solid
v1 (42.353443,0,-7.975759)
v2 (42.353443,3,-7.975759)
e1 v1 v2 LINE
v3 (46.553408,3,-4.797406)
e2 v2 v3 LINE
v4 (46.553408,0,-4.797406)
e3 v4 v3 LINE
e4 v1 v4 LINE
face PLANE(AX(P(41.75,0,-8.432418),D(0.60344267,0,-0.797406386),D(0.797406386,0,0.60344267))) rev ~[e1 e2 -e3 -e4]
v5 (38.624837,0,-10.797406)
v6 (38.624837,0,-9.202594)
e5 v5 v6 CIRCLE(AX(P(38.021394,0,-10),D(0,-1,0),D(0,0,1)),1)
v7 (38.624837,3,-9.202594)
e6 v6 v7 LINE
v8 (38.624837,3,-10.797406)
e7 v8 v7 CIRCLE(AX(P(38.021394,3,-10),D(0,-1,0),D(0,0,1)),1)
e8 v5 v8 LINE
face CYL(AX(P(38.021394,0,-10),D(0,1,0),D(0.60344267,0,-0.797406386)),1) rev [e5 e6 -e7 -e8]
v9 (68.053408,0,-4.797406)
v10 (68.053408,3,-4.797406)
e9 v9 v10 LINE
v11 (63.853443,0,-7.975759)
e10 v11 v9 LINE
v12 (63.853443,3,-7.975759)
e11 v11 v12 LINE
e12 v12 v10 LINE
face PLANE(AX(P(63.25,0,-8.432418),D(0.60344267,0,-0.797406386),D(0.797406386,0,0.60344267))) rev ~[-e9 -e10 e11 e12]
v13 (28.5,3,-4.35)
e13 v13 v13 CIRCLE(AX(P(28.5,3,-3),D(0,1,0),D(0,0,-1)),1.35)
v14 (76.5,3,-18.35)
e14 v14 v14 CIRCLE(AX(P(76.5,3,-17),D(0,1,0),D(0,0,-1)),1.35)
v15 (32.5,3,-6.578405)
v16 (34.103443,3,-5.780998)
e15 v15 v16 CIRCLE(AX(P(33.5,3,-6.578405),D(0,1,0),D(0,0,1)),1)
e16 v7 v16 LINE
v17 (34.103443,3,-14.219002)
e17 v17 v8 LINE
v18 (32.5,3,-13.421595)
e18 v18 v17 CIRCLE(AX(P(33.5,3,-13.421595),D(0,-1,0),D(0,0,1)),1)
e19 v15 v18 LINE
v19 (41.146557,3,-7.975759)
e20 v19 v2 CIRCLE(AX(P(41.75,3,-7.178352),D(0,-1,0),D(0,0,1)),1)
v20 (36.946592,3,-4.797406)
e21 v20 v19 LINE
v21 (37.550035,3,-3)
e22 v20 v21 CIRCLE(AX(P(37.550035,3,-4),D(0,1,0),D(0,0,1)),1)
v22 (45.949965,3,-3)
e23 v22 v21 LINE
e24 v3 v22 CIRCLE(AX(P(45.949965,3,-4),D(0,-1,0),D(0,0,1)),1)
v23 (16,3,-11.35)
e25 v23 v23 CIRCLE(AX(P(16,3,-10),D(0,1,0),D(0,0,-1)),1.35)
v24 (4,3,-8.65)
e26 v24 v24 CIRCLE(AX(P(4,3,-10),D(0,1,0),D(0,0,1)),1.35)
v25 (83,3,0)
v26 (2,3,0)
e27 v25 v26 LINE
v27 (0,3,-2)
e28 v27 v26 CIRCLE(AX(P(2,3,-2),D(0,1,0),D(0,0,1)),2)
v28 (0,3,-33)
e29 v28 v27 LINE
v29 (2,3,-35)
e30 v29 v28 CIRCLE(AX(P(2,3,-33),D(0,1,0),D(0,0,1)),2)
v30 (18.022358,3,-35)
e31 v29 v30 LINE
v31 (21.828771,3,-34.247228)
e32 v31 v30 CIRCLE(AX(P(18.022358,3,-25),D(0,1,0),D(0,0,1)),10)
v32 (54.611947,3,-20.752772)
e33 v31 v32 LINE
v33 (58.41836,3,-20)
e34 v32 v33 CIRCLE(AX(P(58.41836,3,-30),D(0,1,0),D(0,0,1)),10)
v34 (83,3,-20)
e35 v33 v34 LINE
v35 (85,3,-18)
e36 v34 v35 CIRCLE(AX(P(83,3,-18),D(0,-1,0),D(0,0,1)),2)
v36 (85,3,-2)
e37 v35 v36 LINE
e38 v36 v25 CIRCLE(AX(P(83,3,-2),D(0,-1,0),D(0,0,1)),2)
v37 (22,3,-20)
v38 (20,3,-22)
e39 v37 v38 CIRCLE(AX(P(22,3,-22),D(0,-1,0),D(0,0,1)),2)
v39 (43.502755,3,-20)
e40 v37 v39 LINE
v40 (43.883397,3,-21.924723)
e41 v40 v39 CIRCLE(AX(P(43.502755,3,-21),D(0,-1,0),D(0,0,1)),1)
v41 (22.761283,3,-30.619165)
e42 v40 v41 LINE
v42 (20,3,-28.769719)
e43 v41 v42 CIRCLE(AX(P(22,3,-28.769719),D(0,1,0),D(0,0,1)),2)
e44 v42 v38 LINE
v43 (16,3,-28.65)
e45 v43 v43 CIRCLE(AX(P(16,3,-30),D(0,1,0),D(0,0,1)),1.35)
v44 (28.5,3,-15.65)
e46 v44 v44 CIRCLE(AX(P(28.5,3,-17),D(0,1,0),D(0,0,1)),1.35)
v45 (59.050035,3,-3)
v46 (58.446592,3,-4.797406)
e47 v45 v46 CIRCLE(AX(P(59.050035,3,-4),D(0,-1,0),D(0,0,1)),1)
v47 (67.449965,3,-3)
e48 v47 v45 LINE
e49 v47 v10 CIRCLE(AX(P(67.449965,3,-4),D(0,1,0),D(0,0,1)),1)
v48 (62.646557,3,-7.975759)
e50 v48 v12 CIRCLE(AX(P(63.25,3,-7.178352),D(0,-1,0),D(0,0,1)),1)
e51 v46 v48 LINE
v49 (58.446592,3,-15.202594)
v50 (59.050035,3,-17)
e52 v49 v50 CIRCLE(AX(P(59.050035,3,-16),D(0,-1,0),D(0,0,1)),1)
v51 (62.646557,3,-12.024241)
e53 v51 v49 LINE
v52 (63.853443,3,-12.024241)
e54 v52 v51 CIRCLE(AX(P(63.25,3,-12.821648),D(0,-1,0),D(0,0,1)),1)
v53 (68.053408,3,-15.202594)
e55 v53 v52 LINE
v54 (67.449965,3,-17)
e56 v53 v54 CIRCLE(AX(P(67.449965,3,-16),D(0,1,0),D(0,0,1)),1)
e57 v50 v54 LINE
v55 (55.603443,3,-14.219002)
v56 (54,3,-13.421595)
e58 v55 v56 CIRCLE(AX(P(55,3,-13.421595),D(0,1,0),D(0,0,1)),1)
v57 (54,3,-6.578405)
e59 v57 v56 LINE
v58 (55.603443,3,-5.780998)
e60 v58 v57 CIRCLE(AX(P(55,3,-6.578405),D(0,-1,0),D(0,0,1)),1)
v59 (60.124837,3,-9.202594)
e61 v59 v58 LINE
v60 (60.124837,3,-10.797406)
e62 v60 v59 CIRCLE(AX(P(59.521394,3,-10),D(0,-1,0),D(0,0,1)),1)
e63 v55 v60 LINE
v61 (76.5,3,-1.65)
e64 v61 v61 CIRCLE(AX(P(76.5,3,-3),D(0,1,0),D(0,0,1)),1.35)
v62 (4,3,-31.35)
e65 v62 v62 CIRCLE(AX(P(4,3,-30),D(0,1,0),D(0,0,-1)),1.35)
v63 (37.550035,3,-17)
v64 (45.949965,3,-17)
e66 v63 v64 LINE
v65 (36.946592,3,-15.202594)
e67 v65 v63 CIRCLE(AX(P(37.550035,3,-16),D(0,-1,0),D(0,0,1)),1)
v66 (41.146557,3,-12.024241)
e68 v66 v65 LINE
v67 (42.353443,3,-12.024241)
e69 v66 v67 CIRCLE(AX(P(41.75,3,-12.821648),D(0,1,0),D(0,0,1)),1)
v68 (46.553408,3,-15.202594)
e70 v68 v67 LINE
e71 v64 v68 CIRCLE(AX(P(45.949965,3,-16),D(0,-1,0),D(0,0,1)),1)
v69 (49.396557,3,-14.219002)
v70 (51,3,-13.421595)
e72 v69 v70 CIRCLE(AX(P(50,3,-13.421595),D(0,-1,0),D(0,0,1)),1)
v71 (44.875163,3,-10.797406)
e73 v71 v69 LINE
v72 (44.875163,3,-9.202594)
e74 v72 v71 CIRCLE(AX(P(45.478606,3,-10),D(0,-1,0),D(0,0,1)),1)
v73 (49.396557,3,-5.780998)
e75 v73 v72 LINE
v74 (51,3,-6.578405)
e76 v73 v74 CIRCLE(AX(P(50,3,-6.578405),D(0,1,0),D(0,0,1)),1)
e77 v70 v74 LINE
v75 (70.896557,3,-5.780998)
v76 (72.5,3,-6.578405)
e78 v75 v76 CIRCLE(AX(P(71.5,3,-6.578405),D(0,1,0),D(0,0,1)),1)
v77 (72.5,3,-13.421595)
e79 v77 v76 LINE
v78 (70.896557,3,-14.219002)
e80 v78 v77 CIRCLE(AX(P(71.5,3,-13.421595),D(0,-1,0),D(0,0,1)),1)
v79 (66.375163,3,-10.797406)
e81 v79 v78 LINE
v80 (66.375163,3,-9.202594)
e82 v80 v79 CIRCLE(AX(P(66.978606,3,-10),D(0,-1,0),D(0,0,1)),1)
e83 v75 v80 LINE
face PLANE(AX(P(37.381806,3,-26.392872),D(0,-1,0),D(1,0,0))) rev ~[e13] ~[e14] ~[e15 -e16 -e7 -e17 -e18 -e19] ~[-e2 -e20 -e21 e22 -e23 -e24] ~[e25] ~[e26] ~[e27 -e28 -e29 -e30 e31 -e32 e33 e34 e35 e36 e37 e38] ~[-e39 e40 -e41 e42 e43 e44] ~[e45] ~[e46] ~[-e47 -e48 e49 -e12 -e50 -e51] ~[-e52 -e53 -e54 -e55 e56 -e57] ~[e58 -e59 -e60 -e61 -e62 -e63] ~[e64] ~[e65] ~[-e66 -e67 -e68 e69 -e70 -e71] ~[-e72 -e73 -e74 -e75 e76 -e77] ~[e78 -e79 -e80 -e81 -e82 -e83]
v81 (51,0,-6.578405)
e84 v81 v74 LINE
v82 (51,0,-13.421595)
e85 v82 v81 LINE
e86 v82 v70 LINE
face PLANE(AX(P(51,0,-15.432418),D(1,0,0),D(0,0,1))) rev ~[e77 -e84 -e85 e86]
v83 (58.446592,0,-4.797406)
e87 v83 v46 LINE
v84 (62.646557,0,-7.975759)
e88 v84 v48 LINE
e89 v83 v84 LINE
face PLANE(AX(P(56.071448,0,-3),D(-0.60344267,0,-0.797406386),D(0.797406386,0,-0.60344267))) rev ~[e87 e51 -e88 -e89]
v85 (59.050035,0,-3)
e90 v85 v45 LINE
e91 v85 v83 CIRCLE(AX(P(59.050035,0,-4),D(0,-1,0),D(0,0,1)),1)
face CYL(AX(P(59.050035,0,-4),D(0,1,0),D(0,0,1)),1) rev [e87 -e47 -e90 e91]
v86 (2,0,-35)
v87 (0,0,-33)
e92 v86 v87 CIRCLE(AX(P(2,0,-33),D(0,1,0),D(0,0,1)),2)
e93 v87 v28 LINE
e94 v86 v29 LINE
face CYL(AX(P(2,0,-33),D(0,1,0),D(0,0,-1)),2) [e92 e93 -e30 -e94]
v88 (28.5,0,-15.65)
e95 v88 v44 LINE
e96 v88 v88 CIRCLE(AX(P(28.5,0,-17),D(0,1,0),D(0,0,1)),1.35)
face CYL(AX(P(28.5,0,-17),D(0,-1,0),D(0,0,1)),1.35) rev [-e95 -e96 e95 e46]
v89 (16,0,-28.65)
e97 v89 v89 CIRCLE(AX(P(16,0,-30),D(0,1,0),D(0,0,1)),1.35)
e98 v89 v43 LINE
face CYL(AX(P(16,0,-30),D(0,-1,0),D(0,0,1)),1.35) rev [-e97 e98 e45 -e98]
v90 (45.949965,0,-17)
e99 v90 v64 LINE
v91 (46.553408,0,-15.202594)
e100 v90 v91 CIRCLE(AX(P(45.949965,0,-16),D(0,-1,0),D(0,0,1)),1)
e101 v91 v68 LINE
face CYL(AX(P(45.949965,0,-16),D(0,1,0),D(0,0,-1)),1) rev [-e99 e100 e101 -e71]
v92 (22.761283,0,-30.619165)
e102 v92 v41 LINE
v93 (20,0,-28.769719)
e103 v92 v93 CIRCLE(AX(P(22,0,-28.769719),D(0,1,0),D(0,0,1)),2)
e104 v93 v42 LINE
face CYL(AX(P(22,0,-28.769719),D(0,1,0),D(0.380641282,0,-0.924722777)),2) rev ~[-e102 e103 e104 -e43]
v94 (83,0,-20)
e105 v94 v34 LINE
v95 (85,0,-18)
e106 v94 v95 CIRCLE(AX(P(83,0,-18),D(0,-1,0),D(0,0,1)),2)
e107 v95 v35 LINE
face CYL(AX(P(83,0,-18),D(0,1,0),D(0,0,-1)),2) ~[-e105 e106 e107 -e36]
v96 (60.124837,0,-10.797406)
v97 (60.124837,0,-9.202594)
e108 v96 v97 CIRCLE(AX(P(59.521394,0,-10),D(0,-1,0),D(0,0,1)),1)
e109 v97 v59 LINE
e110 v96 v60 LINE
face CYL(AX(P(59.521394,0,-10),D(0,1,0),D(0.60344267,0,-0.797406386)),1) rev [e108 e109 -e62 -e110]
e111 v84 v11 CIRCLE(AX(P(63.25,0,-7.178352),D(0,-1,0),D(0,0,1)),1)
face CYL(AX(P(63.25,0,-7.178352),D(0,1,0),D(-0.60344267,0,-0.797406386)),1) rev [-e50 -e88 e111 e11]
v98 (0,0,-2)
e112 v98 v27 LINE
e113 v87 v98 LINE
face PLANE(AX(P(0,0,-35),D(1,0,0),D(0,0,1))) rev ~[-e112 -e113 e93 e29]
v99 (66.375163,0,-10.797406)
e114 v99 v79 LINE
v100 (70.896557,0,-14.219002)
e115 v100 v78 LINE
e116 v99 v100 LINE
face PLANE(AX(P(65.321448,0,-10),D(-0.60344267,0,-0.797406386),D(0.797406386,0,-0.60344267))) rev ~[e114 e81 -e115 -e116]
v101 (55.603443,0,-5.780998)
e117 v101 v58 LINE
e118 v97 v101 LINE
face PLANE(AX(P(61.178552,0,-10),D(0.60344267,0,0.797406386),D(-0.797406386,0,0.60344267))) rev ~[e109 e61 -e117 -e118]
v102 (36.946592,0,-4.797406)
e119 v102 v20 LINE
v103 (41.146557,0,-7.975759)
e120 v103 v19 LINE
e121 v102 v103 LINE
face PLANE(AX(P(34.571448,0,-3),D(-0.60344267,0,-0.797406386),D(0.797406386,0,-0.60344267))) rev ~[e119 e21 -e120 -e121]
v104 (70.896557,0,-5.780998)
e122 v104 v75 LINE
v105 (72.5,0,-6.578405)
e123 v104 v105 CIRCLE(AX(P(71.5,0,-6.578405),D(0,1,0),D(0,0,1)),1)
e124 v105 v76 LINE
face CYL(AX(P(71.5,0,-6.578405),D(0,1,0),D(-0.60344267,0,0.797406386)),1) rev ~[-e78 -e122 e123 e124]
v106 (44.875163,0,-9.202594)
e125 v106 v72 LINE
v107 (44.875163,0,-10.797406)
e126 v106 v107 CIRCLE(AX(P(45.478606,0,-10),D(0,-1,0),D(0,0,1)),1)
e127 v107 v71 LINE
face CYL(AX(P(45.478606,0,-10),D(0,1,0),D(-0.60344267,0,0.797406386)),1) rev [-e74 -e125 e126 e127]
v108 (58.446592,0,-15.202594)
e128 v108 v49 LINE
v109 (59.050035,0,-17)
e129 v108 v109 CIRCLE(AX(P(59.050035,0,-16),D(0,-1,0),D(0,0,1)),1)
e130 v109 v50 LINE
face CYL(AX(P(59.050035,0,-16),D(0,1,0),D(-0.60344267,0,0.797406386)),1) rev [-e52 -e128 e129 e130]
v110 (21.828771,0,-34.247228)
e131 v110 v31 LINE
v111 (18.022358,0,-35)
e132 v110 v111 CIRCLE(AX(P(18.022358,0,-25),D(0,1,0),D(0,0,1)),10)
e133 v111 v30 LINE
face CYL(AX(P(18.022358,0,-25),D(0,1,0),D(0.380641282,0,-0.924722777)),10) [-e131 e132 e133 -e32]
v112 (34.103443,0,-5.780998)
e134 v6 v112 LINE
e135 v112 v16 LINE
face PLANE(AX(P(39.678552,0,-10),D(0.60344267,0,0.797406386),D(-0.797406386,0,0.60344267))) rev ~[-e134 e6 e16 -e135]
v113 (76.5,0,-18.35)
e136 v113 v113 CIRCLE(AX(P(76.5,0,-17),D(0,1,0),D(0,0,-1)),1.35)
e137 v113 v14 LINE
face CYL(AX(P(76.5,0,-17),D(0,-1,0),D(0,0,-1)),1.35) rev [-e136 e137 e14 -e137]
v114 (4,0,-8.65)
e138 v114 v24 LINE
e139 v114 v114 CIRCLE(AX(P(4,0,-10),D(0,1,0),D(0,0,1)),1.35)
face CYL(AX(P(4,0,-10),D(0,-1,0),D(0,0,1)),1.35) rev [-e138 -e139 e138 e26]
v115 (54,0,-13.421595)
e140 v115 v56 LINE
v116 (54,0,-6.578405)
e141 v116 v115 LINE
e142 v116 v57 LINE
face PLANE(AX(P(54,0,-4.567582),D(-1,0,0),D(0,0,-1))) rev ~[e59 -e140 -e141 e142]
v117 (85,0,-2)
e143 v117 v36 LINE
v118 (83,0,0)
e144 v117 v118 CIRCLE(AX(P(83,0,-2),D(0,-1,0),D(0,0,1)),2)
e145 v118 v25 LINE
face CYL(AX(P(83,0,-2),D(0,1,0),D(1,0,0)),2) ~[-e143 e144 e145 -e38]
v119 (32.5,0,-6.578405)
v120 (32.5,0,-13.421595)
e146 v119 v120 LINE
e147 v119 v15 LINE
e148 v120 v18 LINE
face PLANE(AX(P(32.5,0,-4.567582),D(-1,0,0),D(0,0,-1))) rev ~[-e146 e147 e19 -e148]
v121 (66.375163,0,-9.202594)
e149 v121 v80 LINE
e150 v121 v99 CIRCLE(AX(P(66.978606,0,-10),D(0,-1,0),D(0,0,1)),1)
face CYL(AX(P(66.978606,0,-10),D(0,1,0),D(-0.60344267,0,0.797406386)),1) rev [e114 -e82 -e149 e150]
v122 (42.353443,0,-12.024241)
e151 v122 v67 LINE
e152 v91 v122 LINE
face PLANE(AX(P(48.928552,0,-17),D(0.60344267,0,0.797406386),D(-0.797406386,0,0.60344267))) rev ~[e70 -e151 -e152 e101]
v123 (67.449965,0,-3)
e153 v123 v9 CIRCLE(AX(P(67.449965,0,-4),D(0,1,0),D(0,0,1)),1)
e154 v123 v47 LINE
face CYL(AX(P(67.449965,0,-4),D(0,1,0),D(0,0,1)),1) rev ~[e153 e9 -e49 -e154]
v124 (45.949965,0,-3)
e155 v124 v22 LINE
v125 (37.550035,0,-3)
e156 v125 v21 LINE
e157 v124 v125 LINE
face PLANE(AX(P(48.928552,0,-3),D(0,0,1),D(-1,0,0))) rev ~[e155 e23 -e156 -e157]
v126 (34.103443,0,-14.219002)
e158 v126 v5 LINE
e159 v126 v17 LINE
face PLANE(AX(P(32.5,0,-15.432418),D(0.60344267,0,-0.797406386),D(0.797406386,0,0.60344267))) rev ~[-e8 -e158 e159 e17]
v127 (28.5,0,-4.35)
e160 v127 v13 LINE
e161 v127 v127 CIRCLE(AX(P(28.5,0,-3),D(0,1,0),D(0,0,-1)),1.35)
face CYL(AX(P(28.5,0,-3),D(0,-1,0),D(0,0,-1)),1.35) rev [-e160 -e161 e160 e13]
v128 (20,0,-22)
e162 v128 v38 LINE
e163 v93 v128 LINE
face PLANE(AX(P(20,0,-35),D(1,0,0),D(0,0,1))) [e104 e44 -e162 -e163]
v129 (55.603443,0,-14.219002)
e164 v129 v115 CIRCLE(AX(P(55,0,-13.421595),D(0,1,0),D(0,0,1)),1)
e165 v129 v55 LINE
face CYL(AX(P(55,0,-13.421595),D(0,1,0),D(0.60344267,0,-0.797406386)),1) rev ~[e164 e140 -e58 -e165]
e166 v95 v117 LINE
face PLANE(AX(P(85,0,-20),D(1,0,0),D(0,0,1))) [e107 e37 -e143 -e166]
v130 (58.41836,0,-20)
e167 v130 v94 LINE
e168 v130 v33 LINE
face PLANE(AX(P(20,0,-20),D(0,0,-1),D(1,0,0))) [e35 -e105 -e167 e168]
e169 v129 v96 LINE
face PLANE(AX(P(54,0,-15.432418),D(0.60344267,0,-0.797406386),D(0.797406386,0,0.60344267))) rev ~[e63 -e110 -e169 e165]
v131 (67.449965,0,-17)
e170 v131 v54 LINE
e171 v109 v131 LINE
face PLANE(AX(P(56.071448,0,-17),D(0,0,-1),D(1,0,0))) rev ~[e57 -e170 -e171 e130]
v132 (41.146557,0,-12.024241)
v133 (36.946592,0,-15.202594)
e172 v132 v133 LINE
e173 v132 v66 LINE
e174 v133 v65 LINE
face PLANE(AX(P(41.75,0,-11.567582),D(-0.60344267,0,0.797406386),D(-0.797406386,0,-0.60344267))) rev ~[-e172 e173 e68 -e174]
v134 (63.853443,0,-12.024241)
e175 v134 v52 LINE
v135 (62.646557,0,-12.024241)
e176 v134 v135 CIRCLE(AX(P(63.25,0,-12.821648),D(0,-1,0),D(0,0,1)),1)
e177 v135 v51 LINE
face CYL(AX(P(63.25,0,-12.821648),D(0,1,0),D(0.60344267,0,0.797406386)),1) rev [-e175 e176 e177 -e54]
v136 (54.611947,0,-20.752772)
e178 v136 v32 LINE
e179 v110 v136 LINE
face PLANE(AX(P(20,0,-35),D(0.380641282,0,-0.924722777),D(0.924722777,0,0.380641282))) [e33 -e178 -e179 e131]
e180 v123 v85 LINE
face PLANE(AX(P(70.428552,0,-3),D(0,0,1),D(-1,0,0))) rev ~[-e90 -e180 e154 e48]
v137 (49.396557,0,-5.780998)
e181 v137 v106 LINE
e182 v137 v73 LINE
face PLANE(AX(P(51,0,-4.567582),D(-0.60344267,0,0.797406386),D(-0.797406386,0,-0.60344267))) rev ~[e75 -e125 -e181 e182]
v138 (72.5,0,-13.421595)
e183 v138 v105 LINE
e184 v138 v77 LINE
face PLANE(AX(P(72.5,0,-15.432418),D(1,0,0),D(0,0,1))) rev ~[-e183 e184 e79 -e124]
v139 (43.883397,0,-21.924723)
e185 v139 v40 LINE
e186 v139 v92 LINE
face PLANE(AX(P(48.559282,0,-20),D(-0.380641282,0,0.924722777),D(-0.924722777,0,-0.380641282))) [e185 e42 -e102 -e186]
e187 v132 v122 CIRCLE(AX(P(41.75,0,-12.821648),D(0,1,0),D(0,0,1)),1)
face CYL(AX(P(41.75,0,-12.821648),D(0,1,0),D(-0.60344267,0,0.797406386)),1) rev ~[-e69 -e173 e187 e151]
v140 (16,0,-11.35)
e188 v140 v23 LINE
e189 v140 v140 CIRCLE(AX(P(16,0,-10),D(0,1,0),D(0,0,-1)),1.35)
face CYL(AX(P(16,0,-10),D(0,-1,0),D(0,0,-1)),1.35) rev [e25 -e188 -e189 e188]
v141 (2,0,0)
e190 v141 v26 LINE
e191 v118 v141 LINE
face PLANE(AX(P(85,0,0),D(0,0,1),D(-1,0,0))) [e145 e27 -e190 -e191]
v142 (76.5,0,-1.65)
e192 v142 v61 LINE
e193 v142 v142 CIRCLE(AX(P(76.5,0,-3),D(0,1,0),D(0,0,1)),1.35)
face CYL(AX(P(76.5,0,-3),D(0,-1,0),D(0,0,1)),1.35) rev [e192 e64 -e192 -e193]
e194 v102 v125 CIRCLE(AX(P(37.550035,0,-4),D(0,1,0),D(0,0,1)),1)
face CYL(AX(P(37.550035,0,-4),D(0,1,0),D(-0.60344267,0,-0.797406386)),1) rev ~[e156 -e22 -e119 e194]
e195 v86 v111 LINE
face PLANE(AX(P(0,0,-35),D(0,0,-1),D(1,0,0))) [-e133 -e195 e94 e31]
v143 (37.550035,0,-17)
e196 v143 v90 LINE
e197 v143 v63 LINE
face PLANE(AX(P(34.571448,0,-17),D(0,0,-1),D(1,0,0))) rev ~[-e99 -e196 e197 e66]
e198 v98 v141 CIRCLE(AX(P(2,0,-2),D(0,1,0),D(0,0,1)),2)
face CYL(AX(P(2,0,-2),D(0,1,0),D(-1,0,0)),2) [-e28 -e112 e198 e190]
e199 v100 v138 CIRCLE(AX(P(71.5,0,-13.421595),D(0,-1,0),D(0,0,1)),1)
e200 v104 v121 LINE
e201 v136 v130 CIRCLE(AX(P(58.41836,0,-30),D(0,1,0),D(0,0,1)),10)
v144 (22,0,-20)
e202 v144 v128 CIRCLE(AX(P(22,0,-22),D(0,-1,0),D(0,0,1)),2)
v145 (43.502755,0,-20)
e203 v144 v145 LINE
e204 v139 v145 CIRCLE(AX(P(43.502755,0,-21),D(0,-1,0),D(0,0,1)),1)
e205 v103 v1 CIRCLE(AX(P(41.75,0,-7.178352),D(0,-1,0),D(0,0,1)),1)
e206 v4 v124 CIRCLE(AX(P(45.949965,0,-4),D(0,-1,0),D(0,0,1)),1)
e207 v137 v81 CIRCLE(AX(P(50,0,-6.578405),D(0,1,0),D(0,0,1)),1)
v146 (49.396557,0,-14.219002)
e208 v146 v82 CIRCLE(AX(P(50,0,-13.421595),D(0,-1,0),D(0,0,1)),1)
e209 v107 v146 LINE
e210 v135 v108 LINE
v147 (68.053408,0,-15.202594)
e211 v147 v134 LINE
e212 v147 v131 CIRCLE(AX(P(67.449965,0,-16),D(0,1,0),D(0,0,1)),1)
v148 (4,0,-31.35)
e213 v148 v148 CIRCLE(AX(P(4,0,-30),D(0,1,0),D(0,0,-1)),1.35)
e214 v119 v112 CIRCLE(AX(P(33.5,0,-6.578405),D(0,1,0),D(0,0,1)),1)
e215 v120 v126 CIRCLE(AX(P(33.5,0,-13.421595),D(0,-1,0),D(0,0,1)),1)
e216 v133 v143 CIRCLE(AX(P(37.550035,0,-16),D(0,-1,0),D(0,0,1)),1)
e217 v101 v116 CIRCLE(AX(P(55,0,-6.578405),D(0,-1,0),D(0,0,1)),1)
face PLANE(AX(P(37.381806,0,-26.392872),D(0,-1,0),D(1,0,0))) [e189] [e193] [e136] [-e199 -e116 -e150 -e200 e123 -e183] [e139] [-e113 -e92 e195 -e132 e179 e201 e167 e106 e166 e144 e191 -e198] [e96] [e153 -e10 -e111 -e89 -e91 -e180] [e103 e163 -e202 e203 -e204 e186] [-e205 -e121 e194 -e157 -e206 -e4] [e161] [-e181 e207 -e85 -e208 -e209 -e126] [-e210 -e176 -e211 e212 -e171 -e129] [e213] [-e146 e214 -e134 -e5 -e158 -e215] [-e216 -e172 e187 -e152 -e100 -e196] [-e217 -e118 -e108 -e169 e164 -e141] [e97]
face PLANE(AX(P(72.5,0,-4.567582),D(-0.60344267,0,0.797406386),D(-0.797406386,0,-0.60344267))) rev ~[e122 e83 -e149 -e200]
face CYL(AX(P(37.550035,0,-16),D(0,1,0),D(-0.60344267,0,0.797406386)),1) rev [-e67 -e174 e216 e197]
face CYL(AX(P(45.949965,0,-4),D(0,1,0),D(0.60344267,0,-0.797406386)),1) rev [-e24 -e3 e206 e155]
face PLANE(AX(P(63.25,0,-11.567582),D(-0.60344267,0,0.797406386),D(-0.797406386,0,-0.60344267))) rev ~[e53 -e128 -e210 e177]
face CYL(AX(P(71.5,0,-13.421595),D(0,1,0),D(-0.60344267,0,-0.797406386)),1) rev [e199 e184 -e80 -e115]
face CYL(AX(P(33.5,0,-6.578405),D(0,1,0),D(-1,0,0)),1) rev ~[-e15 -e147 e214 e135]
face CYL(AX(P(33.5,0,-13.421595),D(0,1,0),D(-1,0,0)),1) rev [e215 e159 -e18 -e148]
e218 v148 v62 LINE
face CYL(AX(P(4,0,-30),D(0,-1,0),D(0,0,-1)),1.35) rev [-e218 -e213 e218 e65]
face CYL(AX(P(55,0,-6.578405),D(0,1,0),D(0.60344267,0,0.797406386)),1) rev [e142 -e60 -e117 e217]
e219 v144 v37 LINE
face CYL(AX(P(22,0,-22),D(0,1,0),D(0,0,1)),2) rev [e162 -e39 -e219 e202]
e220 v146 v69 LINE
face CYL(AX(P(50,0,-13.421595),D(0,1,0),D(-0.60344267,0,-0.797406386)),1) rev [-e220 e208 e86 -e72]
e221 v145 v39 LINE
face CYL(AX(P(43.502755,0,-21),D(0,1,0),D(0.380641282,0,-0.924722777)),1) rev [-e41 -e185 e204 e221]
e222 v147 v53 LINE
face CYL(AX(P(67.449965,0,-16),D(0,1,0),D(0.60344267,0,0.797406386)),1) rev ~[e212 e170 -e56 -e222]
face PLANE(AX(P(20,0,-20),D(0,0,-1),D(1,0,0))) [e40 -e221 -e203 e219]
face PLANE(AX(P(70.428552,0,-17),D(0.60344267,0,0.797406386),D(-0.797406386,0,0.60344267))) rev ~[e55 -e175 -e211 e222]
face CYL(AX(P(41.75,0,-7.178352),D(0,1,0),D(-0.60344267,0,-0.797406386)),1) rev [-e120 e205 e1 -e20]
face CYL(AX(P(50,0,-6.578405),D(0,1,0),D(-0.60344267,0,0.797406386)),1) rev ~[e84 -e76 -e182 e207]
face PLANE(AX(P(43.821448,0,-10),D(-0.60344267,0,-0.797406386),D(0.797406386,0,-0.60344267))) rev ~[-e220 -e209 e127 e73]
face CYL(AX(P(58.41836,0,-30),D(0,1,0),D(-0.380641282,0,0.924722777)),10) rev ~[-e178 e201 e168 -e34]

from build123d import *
from OCP.BRepFilletAPI import BRepFilletAPI_MakeFillet

# Parameters (mm, degrees)
SKETCH_1_R          = 1.35
EXTRUDE_1_DEPTH     = 3
EXTRUDE_2_DEPTH     = 3
CUT_EXTRUDE_1_DEPTH = 10
FILLET_1_R1         = 1
FILLET_1_R2         = 2
FILLET_1_R3         = 10
FILLET_2_R          = 1


with BuildPart() as part:
    # 草图1 → 凸台-拉伸1 (new body)
    with BuildSketch(Plane(origin=(0, 0, 0), x_dir=(1, 0, 0), z_dir=(0, 1, 0))):
        Polygon((0, 35), (20, 35), (20, 20), (85, 20), (85, 0), (0, 0), (0, 10), align=None)
        with Locations(Location((76.5, 3, 0), (0, 0, 270))):
            Circle(SKETCH_1_R, mode=Mode.SUBTRACT)
        with Locations(Location((76.5, 17, 0), (0, 0, 90))):
            Circle(SKETCH_1_R, mode=Mode.SUBTRACT)
        with Locations(Location((28.5, 17, 0), (0, 0, 270))):
            Circle(SKETCH_1_R, mode=Mode.SUBTRACT)
        with Locations(Location((28.5, 3, 0), (0, 0, 90))):
            Circle(SKETCH_1_R, mode=Mode.SUBTRACT)
        with Locations(Location((4, 10, 0), (0, 0, 270))):
            Circle(SKETCH_1_R, mode=Mode.SUBTRACT)
        with Locations(Location((4, 30, 0), (0, 0, 90))):
            Circle(SKETCH_1_R, mode=Mode.SUBTRACT)
        with Locations(Location((16, 30, 0), (0, 0, 270))):
            Circle(SKETCH_1_R, mode=Mode.SUBTRACT)
        with Locations(Location((16, 10, 0), (0, 0, 90))):
            Circle(SKETCH_1_R, mode=Mode.SUBTRACT)
    extrude(amount=EXTRUDE_1_DEPTH)

    # 草图3 → 凸台-拉伸2 (add)
    with BuildSketch(Plane.XZ):
        Polygon((20, -31.755784464), (20, -35), (56.44071813, -20), (48.55928187, -20), align=None)
    extrude(amount=-EXTRUDE_2_DEPTH)

    # 草图4 → 切除-拉伸1 (cut)
    with BuildSketch(Plane.XZ):
        Polygon((34.571447814, -3), (41.75, -8.432417871), (48.928552186, -3), align=None)
        Polygon((32.5, -4.567582129), (32.5, -15.432417871), (39.678552186, -10), align=None)
        Polygon((41.75, -11.567582129), (34.571447814, -17), (48.928552186, -17), align=None)
        Polygon((51, -4.567582129), (43.821447814, -10), (51, -15.432417871), align=None)
        Polygon((54, -15.432417871), (61.178552186, -10), (54, -4.567582129), align=None)
        Polygon((70.428552186, -3), (56.071447814, -3), (63.25, -8.432417871), align=None)
        Polygon((72.5, -4.567582129), (65.321447814, -10), (72.5, -15.432417871), align=None)
        Polygon((70.428552186, -17), (63.25, -11.567582129), (56.071447814, -17), align=None)
    extrude(amount=-CUT_EXTRUDE_1_DEPTH, mode=Mode.SUBTRACT)

    # 圆角1: one fillet with a radius per group of edges: ONE call of the kernel's fillet builder (fillet() takes one radius for all edges)
    fillet_1_edges_1 = [part.edges().sort_by_distance(p)[0] for p in [
        (48.55928187, 1.5, -20),
    ]]
    fillet_1_edges_2 = [part.edges().sort_by_distance(p)[0] for p in [
        (20, 1.5, -20),
        (20, 1.5, -31.755784464),
        (0, 1.5, -35),
        (0, 1.5, 0),
        (85, 1.5, 0),
        (85, 1.5, -20),
    ]]
    fillet_1_edges_3 = [part.edges().sort_by_distance(p)[0] for p in [
        (56.44071813, 1.5, -20),
        (20, 1.5, -35),
    ]]
    fillet_1 = BRepFilletAPI_MakeFillet(part.part.solid().wrapped)
    for e in fillet_1_edges_1:
        fillet_1.Add(FILLET_1_R1, e.wrapped)
    for e in fillet_1_edges_2:
        fillet_1.Add(FILLET_1_R2, e.wrapped)
    for e in fillet_1_edges_3:
        fillet_1.Add(FILLET_1_R3, e.wrapped)
    add(Compound.cast(fillet_1.Shape()), mode=Mode.REPLACE)

    # 圆角2
    fillet_2_edges = [part.edges().sort_by_distance(p)[0] for p in [
        (43.821447814, 1.5, -10),
        (51, 1.5, -4.567582129),
        (51, 1.5, -15.432417871),
        (39.678552186, 1.5, -10),
        (32.5, 1.5, -15.432417871),
        (32.5, 1.5, -4.567582129),
        (34.571447814, 1.5, -17),
        (41.75, 1.5, -11.567582129),
        (48.928552186, 1.5, -17),
        (70.428552186, 1.5, -17),
        (56.071447814, 1.5, -17),
        (63.25, 1.5, -11.567582129),
        (70.428552186, 1.5, -3),
        (63.25, 1.5, -8.432417871),
        (56.071447814, 1.5, -3),
        (72.5, 1.5, -15.432417871),
        (65.321447814, 1.5, -10),
        (72.5, 1.5, -4.567582129),
        (48.928552186, 1.5, -3),
        (41.75, 1.5, -8.432417871),
        (34.571447814, 1.5, -3),
        (54, 1.5, -15.432417871),
        (54, 1.5, -4.567582129),
        (61.178552186, 1.5, -10),
    ]]
    fillet(fillet_2_edges, radius=FILLET_2_R)


solid = part.part
